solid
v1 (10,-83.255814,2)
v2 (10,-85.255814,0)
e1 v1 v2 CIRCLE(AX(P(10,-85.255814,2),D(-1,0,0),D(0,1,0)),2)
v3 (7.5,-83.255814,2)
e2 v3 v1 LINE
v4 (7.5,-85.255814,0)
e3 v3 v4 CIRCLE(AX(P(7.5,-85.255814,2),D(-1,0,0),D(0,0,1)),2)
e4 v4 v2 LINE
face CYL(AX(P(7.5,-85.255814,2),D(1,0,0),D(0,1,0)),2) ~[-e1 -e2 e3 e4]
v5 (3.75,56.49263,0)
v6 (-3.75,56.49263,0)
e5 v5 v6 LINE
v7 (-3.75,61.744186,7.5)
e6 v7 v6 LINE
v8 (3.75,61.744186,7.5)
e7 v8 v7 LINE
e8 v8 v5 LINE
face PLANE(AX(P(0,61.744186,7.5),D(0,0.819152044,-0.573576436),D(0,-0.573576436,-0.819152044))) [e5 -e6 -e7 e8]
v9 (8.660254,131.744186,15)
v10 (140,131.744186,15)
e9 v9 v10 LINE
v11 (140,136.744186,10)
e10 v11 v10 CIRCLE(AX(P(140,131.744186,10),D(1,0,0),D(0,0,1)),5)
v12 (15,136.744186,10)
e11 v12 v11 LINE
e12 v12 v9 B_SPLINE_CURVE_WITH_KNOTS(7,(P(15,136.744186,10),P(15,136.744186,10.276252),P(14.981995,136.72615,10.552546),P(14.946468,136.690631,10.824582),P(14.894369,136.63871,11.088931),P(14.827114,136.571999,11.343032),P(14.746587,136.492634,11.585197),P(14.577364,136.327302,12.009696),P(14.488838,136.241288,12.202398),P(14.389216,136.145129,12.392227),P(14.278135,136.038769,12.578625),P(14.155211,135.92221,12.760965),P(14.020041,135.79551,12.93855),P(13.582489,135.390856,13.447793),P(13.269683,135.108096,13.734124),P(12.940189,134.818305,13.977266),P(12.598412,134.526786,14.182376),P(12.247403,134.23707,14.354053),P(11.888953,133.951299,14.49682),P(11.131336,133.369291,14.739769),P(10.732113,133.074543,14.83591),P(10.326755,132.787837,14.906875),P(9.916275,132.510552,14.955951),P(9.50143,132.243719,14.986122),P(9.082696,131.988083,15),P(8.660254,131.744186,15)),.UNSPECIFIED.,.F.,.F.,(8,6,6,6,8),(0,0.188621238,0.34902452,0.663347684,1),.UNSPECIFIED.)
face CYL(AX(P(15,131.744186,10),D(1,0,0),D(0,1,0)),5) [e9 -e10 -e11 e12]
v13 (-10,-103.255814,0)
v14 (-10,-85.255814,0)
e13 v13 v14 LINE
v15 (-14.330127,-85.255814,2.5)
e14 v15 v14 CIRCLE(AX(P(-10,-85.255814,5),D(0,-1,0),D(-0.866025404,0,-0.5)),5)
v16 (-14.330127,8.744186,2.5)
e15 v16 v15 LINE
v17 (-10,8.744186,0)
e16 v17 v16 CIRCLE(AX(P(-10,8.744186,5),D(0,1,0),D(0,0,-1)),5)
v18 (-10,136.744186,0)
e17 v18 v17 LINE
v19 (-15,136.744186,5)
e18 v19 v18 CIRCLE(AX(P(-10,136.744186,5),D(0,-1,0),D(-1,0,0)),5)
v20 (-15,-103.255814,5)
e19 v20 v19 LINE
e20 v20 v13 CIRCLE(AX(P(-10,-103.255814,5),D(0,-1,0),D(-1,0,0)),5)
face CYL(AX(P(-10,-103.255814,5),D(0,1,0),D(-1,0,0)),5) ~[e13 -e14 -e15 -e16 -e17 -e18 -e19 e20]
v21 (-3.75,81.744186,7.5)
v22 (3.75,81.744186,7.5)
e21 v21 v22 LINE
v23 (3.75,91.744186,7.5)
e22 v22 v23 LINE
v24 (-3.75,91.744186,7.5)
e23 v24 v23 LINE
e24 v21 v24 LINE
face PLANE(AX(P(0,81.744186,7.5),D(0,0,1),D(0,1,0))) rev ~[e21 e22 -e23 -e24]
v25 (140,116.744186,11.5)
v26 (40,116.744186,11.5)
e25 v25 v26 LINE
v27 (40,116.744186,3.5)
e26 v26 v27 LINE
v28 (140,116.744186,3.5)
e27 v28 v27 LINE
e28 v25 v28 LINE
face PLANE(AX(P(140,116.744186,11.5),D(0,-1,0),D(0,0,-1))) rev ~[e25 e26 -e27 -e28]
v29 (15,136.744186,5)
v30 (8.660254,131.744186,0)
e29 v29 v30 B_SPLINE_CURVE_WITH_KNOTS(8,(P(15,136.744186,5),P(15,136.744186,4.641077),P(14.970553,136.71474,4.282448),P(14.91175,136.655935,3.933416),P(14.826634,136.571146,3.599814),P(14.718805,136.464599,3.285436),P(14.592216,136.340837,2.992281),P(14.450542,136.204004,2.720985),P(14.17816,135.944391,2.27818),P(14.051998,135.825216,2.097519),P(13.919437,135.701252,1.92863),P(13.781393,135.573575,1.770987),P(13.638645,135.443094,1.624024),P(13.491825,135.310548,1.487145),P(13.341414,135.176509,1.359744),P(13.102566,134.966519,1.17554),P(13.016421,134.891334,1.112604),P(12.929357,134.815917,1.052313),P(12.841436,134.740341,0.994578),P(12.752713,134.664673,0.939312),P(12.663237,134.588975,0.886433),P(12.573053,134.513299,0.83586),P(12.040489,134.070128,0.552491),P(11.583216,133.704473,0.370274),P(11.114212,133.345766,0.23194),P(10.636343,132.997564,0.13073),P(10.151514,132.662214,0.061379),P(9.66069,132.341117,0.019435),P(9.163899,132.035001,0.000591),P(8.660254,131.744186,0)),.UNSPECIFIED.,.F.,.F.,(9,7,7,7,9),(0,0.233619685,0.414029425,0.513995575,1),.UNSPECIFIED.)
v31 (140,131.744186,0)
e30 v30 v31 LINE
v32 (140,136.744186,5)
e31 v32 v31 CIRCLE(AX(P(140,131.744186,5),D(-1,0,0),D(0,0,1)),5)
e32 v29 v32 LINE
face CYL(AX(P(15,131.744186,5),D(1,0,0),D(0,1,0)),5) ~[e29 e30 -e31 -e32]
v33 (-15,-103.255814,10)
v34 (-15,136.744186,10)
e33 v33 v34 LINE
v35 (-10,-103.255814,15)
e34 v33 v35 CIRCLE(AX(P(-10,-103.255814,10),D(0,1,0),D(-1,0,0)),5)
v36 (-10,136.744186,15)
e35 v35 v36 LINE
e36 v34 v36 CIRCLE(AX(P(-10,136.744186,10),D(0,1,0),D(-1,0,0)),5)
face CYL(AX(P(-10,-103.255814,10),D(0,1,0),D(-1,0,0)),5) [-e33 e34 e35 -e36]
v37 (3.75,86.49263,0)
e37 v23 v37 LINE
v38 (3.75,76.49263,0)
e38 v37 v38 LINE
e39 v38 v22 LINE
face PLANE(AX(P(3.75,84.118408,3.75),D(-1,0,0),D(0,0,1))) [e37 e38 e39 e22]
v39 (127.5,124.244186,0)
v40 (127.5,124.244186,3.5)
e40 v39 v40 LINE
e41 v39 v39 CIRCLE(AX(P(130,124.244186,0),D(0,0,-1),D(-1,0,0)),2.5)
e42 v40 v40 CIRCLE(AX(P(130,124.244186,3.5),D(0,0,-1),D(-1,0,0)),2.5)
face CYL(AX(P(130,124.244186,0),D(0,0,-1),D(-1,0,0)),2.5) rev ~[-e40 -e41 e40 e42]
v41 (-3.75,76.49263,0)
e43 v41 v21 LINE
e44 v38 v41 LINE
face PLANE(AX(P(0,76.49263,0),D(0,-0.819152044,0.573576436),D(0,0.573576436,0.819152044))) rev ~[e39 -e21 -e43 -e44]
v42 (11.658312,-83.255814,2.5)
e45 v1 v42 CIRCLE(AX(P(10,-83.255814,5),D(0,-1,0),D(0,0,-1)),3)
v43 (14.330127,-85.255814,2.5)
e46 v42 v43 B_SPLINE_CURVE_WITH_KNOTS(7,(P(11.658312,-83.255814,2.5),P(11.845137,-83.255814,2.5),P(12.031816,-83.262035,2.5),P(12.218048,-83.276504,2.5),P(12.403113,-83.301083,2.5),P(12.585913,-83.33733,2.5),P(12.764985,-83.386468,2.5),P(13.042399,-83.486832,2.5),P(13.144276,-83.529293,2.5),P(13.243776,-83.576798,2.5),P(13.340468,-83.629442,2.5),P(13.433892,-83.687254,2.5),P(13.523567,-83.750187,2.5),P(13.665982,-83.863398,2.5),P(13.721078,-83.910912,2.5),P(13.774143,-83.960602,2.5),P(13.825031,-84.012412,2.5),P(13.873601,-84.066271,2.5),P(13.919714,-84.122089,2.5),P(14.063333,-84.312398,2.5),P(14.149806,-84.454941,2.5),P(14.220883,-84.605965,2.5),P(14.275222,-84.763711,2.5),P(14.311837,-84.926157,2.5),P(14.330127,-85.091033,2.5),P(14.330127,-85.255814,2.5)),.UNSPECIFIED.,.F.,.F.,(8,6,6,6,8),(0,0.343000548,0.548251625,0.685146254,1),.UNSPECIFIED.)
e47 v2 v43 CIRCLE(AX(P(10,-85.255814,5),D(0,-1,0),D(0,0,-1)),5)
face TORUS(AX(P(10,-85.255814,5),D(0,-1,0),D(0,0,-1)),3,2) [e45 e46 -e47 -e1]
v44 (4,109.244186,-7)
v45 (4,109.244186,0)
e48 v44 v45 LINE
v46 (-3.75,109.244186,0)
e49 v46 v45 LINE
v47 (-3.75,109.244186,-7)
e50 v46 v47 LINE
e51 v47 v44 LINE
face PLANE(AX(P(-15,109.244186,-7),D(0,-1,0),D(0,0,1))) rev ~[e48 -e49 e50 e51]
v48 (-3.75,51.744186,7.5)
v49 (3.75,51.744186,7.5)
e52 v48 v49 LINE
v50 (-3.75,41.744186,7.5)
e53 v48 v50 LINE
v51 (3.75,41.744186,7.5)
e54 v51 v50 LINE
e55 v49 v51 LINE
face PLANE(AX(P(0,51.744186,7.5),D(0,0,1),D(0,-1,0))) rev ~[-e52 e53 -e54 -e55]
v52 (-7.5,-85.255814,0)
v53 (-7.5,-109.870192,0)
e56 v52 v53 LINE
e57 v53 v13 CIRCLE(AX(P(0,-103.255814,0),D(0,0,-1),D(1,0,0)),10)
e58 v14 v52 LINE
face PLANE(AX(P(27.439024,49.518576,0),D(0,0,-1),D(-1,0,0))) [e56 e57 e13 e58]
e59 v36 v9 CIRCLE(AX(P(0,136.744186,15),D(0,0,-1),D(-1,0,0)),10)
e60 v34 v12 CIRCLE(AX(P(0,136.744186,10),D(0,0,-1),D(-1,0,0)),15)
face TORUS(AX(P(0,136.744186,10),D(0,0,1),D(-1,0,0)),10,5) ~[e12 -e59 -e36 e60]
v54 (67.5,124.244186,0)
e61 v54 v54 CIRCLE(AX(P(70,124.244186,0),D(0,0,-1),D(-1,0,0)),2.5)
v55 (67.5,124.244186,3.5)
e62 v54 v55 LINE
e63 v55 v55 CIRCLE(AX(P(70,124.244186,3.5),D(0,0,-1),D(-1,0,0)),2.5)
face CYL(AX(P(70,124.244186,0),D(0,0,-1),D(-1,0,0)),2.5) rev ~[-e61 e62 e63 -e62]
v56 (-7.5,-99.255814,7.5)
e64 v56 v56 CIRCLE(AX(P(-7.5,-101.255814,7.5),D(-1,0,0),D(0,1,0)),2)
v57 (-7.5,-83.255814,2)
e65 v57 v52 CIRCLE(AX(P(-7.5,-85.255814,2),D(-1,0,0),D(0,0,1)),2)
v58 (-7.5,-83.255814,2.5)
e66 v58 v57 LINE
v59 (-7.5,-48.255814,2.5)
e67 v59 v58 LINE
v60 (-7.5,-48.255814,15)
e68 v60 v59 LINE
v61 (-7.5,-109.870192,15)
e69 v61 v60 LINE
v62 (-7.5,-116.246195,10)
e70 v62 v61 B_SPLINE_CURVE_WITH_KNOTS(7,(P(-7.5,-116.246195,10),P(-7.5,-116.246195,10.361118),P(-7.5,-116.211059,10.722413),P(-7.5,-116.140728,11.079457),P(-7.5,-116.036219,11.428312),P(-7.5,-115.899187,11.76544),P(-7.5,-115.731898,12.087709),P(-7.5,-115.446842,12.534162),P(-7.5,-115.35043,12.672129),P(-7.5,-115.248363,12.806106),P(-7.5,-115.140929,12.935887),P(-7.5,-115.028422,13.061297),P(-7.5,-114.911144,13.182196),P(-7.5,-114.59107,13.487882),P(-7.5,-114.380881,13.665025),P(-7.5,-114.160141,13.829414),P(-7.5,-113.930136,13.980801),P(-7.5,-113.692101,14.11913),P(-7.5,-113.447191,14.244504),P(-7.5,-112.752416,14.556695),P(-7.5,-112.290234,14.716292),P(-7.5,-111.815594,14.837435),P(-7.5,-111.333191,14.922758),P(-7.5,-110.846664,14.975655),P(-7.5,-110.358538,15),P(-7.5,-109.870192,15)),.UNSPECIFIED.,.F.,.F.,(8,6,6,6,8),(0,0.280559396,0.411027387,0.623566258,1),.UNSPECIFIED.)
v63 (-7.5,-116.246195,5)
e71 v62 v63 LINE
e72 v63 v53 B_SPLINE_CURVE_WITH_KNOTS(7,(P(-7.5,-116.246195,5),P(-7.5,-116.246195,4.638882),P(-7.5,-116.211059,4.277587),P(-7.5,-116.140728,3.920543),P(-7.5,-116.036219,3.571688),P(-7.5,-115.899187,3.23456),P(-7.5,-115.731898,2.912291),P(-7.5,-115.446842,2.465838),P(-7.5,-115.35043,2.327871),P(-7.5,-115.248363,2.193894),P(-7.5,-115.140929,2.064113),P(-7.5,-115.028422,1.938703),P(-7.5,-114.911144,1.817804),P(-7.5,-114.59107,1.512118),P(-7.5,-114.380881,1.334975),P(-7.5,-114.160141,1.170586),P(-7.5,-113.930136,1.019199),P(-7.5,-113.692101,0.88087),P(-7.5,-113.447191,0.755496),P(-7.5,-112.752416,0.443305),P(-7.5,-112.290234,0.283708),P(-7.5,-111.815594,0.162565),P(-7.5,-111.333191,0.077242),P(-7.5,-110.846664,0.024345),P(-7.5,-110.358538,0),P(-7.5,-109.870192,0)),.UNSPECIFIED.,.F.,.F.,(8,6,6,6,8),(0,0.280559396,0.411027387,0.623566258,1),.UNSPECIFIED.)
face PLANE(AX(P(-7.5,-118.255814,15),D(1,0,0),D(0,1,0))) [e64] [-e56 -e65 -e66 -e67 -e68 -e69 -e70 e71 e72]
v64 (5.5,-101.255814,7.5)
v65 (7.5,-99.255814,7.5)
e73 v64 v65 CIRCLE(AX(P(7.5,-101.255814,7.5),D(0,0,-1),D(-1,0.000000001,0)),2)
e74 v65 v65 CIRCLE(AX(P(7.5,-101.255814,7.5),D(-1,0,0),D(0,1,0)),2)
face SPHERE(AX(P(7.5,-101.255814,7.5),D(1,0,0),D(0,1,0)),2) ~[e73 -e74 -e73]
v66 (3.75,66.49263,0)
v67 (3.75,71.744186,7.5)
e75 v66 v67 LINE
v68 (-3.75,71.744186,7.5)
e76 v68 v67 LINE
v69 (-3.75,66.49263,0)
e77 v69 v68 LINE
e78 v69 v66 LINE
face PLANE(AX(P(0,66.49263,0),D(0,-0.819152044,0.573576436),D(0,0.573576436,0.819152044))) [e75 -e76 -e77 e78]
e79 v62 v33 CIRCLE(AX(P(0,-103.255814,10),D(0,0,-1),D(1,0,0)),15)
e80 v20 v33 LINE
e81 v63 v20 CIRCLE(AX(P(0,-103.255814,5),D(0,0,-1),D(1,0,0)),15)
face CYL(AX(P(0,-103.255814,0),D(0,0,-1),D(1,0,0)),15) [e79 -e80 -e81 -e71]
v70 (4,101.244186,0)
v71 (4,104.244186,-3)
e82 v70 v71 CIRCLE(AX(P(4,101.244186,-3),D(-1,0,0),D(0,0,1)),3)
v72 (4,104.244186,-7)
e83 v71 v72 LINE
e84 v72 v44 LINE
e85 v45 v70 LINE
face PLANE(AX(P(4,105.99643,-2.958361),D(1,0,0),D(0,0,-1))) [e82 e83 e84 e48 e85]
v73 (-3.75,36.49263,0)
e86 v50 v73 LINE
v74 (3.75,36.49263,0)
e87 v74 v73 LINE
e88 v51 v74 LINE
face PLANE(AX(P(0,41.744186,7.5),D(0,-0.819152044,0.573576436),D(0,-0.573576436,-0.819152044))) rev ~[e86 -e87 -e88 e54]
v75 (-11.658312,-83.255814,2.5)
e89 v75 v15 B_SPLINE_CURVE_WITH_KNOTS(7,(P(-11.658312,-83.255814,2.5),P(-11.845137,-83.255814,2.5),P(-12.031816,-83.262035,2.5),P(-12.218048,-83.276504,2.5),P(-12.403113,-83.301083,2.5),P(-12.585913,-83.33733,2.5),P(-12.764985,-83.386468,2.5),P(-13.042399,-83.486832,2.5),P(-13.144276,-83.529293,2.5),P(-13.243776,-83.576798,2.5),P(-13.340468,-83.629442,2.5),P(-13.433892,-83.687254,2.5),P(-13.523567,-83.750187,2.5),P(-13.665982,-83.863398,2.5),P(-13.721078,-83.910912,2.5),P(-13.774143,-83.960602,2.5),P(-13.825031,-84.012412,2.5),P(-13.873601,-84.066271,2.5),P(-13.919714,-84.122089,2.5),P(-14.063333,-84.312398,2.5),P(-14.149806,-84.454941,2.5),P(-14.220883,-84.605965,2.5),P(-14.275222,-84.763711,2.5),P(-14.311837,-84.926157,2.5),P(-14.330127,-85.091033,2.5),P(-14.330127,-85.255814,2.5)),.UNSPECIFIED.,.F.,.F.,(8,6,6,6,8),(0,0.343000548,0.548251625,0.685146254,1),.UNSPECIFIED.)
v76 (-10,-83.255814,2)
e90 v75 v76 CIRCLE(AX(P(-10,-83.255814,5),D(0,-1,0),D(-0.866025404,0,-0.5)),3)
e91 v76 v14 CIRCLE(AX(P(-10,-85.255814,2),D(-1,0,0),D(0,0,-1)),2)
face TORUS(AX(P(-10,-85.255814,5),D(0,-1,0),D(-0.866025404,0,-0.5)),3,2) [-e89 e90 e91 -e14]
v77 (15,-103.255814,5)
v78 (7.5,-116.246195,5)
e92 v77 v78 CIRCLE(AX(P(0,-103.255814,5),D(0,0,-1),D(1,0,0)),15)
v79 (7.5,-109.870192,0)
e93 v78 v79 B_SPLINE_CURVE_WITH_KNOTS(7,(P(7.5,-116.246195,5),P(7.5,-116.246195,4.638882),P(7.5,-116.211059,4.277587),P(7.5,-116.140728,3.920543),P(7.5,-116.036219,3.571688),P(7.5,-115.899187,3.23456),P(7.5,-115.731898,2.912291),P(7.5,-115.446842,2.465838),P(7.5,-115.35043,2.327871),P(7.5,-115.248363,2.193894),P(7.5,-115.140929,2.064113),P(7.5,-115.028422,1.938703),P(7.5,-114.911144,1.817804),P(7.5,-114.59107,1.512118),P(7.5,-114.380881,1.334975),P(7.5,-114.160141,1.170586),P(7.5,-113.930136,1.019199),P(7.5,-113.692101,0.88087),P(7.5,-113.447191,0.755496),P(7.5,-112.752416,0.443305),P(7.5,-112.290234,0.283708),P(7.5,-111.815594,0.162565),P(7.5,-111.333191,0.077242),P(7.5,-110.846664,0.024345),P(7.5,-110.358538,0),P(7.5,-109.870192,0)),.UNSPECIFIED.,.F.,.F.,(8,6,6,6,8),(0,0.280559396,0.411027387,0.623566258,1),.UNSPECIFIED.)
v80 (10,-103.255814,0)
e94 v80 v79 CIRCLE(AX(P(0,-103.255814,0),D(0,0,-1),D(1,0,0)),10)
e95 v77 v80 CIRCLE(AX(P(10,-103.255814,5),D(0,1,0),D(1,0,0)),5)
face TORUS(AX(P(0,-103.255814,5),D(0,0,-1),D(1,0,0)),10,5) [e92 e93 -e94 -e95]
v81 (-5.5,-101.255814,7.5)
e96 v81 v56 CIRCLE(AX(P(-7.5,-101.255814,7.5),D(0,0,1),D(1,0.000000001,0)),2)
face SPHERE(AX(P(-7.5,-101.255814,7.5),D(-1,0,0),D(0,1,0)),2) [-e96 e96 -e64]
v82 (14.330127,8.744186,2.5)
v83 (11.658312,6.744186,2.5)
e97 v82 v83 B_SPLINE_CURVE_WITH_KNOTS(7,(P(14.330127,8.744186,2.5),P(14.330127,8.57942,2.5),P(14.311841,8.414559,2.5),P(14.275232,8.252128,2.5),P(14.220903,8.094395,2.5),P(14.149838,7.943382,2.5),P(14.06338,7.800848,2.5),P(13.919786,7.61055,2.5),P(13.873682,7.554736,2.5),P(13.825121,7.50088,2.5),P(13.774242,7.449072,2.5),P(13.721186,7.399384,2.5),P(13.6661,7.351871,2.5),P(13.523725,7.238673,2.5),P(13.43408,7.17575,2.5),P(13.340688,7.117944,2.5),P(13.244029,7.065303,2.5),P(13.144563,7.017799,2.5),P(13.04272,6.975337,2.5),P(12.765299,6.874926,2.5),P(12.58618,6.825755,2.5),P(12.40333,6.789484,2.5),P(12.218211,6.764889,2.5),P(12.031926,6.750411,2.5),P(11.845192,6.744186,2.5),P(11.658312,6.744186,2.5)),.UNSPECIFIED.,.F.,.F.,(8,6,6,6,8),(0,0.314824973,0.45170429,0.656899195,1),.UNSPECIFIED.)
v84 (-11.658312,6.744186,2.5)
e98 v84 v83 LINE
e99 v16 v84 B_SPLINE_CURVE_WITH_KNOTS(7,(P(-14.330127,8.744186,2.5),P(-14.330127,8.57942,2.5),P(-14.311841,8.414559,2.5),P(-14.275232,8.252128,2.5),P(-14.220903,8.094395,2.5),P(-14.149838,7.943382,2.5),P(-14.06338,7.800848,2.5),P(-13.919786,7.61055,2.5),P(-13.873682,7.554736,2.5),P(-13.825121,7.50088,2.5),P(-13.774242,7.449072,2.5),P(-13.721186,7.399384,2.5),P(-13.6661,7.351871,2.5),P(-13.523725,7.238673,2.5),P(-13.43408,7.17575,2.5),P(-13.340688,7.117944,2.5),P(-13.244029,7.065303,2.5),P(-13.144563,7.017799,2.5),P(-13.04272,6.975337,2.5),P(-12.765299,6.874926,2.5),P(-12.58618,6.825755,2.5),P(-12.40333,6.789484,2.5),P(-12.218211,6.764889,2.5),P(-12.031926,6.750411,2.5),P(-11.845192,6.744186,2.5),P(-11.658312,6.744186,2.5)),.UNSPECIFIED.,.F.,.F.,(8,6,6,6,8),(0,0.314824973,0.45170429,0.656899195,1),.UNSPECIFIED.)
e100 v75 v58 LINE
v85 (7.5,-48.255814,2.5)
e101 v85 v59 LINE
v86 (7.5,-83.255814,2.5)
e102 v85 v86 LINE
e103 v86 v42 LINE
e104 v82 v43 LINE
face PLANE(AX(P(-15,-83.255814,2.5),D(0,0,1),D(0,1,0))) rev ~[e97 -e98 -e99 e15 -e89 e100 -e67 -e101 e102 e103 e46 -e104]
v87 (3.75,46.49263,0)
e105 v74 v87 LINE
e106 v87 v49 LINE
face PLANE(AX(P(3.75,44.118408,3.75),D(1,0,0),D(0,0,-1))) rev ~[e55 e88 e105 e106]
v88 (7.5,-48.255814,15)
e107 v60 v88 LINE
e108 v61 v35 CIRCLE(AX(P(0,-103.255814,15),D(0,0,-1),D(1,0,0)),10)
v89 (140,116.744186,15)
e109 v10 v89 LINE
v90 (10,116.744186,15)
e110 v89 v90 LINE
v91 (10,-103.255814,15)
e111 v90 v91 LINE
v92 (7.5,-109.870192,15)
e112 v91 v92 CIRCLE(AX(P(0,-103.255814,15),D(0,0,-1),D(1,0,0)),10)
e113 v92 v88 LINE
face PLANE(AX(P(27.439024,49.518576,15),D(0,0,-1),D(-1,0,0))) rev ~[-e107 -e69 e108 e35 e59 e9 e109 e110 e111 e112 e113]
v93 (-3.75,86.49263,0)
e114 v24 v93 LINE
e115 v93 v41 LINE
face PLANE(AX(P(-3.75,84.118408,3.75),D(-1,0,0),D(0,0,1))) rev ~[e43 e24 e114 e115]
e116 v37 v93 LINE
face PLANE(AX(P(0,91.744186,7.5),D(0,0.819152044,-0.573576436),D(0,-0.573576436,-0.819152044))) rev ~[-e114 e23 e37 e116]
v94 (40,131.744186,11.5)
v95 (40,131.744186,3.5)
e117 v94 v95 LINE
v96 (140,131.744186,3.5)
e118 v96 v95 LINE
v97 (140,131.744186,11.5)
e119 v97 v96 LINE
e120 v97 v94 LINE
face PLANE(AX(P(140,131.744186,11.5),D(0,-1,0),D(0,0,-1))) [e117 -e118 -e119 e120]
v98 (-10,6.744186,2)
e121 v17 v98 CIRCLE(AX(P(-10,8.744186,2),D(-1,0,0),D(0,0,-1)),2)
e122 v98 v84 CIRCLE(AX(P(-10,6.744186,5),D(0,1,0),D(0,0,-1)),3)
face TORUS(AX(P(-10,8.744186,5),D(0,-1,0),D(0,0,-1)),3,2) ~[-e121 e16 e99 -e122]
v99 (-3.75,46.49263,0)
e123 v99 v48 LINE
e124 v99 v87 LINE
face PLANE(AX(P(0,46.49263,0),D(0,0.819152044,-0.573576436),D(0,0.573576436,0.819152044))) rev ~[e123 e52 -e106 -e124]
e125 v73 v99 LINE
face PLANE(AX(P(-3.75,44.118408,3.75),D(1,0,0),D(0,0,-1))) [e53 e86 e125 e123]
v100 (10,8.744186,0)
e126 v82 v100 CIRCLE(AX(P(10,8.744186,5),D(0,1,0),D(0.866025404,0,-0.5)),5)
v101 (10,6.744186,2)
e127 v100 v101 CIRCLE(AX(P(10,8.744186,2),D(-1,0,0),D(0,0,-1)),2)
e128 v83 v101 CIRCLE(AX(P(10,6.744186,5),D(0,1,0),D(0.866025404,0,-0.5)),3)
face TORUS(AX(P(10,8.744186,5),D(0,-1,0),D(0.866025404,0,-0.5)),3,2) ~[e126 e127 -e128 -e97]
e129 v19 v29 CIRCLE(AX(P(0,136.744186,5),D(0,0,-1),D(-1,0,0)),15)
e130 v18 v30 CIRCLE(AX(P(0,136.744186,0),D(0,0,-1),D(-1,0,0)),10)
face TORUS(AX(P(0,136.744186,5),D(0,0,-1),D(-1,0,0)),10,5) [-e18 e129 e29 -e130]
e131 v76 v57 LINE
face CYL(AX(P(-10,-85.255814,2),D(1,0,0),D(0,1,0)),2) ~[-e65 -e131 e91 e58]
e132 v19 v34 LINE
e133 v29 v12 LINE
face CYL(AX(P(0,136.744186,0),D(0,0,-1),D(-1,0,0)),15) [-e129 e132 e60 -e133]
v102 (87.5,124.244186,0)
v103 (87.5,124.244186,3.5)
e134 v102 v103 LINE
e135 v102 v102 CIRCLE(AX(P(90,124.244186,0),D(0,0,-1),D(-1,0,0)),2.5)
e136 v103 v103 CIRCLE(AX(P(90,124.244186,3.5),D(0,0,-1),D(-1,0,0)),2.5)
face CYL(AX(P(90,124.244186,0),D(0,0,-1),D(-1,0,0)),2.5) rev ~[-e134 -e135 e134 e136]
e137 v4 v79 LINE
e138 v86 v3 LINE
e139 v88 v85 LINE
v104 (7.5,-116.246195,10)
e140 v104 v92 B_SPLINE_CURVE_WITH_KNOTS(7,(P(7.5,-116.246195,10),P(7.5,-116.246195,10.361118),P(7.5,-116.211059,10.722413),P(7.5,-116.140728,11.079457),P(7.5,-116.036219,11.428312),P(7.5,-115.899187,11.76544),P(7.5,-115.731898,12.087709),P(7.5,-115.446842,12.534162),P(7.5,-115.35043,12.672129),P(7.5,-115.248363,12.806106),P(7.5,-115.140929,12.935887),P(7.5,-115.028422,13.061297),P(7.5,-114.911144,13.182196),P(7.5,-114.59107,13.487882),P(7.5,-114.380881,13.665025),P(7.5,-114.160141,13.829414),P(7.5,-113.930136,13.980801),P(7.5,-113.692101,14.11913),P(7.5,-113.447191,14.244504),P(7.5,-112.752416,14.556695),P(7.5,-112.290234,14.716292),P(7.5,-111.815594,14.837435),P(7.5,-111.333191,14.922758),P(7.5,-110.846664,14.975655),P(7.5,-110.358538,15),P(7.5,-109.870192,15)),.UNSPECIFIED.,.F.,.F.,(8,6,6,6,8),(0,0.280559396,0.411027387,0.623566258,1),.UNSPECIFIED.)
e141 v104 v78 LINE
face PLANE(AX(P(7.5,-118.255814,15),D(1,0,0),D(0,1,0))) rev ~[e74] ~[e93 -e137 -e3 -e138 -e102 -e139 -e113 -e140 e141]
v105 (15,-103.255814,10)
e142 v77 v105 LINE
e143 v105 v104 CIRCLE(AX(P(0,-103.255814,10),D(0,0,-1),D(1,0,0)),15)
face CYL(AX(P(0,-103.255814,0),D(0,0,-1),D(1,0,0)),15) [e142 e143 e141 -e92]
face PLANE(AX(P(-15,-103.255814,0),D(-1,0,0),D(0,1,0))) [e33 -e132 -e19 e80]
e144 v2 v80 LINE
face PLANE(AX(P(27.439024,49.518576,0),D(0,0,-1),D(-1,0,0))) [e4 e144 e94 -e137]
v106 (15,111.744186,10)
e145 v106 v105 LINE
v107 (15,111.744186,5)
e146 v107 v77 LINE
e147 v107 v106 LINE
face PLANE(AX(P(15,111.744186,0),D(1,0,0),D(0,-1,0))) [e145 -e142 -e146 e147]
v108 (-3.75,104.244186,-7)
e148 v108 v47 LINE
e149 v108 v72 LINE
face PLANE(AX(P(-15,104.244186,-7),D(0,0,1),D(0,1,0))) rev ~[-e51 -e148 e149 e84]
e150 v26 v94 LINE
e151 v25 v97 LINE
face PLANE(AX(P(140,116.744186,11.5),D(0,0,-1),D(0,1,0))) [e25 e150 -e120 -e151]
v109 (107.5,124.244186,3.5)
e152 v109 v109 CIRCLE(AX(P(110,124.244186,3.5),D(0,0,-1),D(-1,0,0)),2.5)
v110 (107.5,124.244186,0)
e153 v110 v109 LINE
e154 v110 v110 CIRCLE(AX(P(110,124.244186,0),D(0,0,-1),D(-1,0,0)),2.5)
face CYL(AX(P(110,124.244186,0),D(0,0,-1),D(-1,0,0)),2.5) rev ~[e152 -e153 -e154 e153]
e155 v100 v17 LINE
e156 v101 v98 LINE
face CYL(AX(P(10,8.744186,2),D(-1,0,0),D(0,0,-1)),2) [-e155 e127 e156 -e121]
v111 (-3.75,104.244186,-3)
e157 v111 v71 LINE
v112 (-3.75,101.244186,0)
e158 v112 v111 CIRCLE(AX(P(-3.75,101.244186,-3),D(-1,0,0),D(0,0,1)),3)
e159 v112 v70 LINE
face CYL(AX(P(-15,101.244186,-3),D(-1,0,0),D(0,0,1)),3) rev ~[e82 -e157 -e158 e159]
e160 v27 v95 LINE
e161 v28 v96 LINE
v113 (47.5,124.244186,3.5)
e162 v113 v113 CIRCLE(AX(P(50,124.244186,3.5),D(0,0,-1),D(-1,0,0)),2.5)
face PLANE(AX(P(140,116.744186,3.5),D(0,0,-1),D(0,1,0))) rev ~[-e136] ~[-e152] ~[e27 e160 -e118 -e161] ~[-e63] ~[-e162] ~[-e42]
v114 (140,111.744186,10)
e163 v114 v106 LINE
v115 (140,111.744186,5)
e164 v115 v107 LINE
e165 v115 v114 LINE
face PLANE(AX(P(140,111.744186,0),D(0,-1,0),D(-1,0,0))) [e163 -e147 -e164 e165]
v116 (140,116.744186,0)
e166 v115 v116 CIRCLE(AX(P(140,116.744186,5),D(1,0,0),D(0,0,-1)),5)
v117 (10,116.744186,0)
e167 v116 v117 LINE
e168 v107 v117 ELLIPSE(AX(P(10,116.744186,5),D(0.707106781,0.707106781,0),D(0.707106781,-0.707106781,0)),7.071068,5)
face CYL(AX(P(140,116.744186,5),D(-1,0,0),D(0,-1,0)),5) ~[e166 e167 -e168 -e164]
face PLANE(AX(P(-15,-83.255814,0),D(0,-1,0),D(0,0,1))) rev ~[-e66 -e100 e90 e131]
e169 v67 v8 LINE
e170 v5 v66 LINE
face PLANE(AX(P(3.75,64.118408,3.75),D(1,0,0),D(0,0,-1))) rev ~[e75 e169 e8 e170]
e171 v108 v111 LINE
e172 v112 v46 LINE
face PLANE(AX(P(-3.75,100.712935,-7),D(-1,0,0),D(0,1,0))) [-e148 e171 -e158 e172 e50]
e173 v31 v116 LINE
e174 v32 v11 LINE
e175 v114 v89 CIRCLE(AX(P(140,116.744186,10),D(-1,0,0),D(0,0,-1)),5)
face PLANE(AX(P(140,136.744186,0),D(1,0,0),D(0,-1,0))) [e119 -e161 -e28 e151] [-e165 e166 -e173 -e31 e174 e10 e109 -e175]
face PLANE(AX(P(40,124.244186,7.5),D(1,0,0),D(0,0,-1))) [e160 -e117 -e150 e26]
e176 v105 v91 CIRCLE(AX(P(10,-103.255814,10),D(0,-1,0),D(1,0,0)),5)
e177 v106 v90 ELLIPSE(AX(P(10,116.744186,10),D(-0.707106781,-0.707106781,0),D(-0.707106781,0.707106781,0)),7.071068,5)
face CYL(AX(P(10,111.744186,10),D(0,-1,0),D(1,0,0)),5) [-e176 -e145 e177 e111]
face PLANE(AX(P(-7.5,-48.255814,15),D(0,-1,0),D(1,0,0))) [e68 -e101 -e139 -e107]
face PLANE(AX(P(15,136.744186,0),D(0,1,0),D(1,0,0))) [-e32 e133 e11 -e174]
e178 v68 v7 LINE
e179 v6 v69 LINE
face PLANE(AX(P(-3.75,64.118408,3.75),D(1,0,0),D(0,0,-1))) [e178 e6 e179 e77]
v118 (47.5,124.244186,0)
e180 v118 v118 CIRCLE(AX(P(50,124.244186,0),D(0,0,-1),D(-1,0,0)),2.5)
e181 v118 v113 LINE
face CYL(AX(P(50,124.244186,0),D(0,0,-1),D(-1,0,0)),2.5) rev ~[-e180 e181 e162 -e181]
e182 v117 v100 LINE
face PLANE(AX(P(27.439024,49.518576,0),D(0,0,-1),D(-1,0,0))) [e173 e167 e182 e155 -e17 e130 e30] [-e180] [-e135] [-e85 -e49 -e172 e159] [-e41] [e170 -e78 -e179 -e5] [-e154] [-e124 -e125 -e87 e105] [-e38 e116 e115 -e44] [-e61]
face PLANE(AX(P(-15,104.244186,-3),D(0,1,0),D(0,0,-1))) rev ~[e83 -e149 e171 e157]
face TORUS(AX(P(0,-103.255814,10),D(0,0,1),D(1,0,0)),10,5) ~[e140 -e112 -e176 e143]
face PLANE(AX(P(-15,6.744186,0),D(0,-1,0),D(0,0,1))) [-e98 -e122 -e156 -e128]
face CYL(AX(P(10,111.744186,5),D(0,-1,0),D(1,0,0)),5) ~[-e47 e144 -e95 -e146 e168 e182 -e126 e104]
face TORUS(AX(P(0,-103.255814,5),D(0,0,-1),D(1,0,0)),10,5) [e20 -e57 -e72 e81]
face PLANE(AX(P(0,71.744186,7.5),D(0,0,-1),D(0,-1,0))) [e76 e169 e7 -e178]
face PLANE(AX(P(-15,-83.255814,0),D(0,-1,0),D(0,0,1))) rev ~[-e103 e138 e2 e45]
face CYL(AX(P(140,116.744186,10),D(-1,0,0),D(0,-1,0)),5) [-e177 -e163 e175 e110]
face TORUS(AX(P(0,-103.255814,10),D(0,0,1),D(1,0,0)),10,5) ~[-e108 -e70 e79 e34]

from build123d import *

# Parameters (mm, degrees)
BOSS_EXTRUDE1_DEPTH = 15
FILLET1_R           = 5
SKETCH2_W           = 8
SKETCH2_H           = 15
CUT_EXTRUDE1_DEPTH  = 100
SKETCH3_W           = 15
SKETCH3_H           = 70
CUT_EXTRUDE3_DEPTH  = 100
CUT_EXTRUDE4_DEPTH  = 3.75
SKETCH9_R           = 2.5
CUT_EXTRUDE5_DEPTH  = 7.5
SKETCH10_W          = 2.5
SKETCH10_H          = 90
CUT_EXTRUDE6_DEPTH  = 218.431134071
FILLET2_R           = 2
BOSS_EXTRUDE2_DEPTH = 19
SKETCH12_W          = 13.011456799
SKETCH12_H          = 10.932703346
CUT_EXTRUDE7_DEPTH  = 7


with BuildPart() as part:
    # Sketch1 → Boss-Extrude1 (new body)
    with BuildSketch(Plane.XY):
        with BuildLine():
            Line((-15, -103.255813953), (-15, 136.744186047))
            ThreePointArc((-15, 136.744186047), (0, 151.744186047), (15, 136.744186047))
            Line((15, 136.744186047), (140, 136.744186047))
            Line((140, 136.744186047), (140, 111.744186047))
            Line((140, 111.744186047), (15, 111.744186047))
            Line((15, 111.744186047), (15, -103.255813953))
            ThreePointArc((15, -103.255813953), (0, -118.255813953), (-15, -103.255813953))
        make_face()
    extrude(amount=BOSS_EXTRUDE1_DEPTH)

    # Fillet1
    fillet1_edges = [part.edges().sort_by_distance(p)[0] for p in [
        (0, -118.255813953, 0),
        (77.5, 111.744186047, 15),
        (77.5, 136.744186047, 15),
        (0, 151.744186047, 15),
        (-15, 16.744186047, 15),
        (0, -118.255813953, 15),
        (-15, 16.744186047, 0),
        (0, 151.744186047, 0),
        (77.5, 136.744186047, 0),
        (15, 4.244186047, 15),
        (77.5, 111.744186047, 0),
        (15, 4.244186047, 0),
    ]]
    fillet(fillet1_edges, radius=FILLET1_R)

    # Sketch2 → Cut-Extrude1 (cut)
    with BuildSketch(Plane(origin=(140, 0, 0), x_dir=(0, 0, -1), z_dir=(1, 0, 0))):
        with Locations((-7.5, 124.244186047)):
            Rectangle(SKETCH2_W, SKETCH2_H)
    extrude(amount=-CUT_EXTRUDE1_DEPTH, mode=Mode.SUBTRACT)

    # Sketch3 → Cut-Extrude3 (cut)
    with BuildSketch(Plane.XY.offset(15)):
        with Locations((0, -83.255813953)):
            Rectangle(SKETCH3_W, SKETCH3_H)
    extrude(amount=-CUT_EXTRUDE3_DEPTH, mode=Mode.SUBTRACT)

    # Sketch6 → Revolve1 (revolve)
    with BuildSketch(Plane.XY.offset(7.5)):
        with BuildLine():
            Line((-7.5, -101.255813953), (-5.5, -101.255813953))
            ThreePointArc((-5.5, -101.255813953), (-6.085786438, -99.841600391), (-7.5, -99.255813953))
            Line((-7.5, -99.255813953), (-7.5, -101.255813953))
        make_face()
        with BuildLine():
            Line((7.5, -101.255813953), (5.5, -101.255813953))
            ThreePointArc((5.5, -101.255813953), (6.085786438, -99.841600391), (7.5, -99.255813953))
            Line((7.5, -99.255813953), (7.5, -101.255813953))
        make_face()
    revolve(axis=Axis((22.79505848, -101.255813953, 7.5), (-1, 0, 0)))

    # Sketch8 → Cut-Extrude4 (cut, symmetric)
    with BuildSketch(Plane(origin=(0, 0, 0), x_dir=(0, 0, -1), z_dir=(1, 0, 0))):
        Polygon((-7.5, 91.744186047), (0, 86.49262951), (0, 76.49262951), (-7.5, 81.744186047), align=None)
        Polygon((0, 56.49262951), (0, 66.49262951), (-7.5, 71.744186047), (-7.5, 61.744186047), align=None)
        Polygon((0, 36.49262951), (0, 46.49262951), (-7.5, 51.744186047), (-7.5, 41.744186047), align=None)
    extrude(amount=CUT_EXTRUDE4_DEPTH, both=True, mode=Mode.SUBTRACT)

    # Sketch9 → Cut-Extrude5 (cut)
    with BuildSketch(Plane(origin=(0, 0, 0), x_dir=(-1, 0, 0), z_dir=(0, 0, -1))):
        with Locations((-130, 124.244186047)):
            Circle(SKETCH9_R)
        with Locations((-110, 124.244186047)):
            Circle(SKETCH9_R)
        with Locations((-90, 124.244186047)):
            Circle(SKETCH9_R)
        with Locations((-70, 124.244186047)):
            Circle(SKETCH9_R)
        with Locations((-50, 124.244186047)):
            Circle(SKETCH9_R)
    extrude(amount=-CUT_EXTRUDE5_DEPTH, mode=Mode.SUBTRACT)

    # Sketch10 → Cut-Extrude6 (cut, through all)
    with BuildSketch(Plane.ZY.offset(15)):
        with Locations((1.25, -38.255813953)):
            Rectangle(SKETCH10_W, SKETCH10_H)
    extrude(amount=-CUT_EXTRUDE6_DEPTH, mode=Mode.SUBTRACT)

    # Fillet2
    fillet2_edges = [part.edges().sort_by_distance(p)[0] for p in [
        (-12.5, 6.744186047, 0.669872981),
        (12.5, 6.744186047, 0.669872981),
        (8.75, -83.255813953, 0),
        (-8.75, -83.255813953, 0),
        (12.5, -83.255813953, 0.669872981),
        (-12.5, -83.255813953, 0.669872981),
        (0, 6.744186047, 0),
    ]]
    fillet(fillet2_edges, radius=FILLET2_R)

    # Sketch11 → Boss-Extrude2 (add)
    with BuildSketch(Plane.ZY.offset(15)):
        with BuildLine():
            Line((0, 109.244186047), (0, 101.244186047))
            ThreePointArc((0, 101.244186047), (-0.878679656, 103.36550639), (-3, 104.244186047))
            Line((-3, 104.244186047), (-7, 104.244186047))
            Line((-7, 104.244186047), (-7, 109.244186047))
            Line((-7, 109.244186047), (0, 109.244186047))
        make_face()
    extrude(amount=-BOSS_EXTRUDE2_DEPTH)

    # Sketch12 → Cut-Extrude7 (cut)
    with BuildSketch(Plane(origin=(0, 0, -7), x_dir=(-1, 0, 0), z_dir=(0, 0, -1))):
        with Locations((10.2557284, 106.179286635)):
            Rectangle(SKETCH12_W, SKETCH12_H)
    extrude(amount=-CUT_EXTRUDE7_DEPTH, mode=Mode.SUBTRACT)


solid = part.part
